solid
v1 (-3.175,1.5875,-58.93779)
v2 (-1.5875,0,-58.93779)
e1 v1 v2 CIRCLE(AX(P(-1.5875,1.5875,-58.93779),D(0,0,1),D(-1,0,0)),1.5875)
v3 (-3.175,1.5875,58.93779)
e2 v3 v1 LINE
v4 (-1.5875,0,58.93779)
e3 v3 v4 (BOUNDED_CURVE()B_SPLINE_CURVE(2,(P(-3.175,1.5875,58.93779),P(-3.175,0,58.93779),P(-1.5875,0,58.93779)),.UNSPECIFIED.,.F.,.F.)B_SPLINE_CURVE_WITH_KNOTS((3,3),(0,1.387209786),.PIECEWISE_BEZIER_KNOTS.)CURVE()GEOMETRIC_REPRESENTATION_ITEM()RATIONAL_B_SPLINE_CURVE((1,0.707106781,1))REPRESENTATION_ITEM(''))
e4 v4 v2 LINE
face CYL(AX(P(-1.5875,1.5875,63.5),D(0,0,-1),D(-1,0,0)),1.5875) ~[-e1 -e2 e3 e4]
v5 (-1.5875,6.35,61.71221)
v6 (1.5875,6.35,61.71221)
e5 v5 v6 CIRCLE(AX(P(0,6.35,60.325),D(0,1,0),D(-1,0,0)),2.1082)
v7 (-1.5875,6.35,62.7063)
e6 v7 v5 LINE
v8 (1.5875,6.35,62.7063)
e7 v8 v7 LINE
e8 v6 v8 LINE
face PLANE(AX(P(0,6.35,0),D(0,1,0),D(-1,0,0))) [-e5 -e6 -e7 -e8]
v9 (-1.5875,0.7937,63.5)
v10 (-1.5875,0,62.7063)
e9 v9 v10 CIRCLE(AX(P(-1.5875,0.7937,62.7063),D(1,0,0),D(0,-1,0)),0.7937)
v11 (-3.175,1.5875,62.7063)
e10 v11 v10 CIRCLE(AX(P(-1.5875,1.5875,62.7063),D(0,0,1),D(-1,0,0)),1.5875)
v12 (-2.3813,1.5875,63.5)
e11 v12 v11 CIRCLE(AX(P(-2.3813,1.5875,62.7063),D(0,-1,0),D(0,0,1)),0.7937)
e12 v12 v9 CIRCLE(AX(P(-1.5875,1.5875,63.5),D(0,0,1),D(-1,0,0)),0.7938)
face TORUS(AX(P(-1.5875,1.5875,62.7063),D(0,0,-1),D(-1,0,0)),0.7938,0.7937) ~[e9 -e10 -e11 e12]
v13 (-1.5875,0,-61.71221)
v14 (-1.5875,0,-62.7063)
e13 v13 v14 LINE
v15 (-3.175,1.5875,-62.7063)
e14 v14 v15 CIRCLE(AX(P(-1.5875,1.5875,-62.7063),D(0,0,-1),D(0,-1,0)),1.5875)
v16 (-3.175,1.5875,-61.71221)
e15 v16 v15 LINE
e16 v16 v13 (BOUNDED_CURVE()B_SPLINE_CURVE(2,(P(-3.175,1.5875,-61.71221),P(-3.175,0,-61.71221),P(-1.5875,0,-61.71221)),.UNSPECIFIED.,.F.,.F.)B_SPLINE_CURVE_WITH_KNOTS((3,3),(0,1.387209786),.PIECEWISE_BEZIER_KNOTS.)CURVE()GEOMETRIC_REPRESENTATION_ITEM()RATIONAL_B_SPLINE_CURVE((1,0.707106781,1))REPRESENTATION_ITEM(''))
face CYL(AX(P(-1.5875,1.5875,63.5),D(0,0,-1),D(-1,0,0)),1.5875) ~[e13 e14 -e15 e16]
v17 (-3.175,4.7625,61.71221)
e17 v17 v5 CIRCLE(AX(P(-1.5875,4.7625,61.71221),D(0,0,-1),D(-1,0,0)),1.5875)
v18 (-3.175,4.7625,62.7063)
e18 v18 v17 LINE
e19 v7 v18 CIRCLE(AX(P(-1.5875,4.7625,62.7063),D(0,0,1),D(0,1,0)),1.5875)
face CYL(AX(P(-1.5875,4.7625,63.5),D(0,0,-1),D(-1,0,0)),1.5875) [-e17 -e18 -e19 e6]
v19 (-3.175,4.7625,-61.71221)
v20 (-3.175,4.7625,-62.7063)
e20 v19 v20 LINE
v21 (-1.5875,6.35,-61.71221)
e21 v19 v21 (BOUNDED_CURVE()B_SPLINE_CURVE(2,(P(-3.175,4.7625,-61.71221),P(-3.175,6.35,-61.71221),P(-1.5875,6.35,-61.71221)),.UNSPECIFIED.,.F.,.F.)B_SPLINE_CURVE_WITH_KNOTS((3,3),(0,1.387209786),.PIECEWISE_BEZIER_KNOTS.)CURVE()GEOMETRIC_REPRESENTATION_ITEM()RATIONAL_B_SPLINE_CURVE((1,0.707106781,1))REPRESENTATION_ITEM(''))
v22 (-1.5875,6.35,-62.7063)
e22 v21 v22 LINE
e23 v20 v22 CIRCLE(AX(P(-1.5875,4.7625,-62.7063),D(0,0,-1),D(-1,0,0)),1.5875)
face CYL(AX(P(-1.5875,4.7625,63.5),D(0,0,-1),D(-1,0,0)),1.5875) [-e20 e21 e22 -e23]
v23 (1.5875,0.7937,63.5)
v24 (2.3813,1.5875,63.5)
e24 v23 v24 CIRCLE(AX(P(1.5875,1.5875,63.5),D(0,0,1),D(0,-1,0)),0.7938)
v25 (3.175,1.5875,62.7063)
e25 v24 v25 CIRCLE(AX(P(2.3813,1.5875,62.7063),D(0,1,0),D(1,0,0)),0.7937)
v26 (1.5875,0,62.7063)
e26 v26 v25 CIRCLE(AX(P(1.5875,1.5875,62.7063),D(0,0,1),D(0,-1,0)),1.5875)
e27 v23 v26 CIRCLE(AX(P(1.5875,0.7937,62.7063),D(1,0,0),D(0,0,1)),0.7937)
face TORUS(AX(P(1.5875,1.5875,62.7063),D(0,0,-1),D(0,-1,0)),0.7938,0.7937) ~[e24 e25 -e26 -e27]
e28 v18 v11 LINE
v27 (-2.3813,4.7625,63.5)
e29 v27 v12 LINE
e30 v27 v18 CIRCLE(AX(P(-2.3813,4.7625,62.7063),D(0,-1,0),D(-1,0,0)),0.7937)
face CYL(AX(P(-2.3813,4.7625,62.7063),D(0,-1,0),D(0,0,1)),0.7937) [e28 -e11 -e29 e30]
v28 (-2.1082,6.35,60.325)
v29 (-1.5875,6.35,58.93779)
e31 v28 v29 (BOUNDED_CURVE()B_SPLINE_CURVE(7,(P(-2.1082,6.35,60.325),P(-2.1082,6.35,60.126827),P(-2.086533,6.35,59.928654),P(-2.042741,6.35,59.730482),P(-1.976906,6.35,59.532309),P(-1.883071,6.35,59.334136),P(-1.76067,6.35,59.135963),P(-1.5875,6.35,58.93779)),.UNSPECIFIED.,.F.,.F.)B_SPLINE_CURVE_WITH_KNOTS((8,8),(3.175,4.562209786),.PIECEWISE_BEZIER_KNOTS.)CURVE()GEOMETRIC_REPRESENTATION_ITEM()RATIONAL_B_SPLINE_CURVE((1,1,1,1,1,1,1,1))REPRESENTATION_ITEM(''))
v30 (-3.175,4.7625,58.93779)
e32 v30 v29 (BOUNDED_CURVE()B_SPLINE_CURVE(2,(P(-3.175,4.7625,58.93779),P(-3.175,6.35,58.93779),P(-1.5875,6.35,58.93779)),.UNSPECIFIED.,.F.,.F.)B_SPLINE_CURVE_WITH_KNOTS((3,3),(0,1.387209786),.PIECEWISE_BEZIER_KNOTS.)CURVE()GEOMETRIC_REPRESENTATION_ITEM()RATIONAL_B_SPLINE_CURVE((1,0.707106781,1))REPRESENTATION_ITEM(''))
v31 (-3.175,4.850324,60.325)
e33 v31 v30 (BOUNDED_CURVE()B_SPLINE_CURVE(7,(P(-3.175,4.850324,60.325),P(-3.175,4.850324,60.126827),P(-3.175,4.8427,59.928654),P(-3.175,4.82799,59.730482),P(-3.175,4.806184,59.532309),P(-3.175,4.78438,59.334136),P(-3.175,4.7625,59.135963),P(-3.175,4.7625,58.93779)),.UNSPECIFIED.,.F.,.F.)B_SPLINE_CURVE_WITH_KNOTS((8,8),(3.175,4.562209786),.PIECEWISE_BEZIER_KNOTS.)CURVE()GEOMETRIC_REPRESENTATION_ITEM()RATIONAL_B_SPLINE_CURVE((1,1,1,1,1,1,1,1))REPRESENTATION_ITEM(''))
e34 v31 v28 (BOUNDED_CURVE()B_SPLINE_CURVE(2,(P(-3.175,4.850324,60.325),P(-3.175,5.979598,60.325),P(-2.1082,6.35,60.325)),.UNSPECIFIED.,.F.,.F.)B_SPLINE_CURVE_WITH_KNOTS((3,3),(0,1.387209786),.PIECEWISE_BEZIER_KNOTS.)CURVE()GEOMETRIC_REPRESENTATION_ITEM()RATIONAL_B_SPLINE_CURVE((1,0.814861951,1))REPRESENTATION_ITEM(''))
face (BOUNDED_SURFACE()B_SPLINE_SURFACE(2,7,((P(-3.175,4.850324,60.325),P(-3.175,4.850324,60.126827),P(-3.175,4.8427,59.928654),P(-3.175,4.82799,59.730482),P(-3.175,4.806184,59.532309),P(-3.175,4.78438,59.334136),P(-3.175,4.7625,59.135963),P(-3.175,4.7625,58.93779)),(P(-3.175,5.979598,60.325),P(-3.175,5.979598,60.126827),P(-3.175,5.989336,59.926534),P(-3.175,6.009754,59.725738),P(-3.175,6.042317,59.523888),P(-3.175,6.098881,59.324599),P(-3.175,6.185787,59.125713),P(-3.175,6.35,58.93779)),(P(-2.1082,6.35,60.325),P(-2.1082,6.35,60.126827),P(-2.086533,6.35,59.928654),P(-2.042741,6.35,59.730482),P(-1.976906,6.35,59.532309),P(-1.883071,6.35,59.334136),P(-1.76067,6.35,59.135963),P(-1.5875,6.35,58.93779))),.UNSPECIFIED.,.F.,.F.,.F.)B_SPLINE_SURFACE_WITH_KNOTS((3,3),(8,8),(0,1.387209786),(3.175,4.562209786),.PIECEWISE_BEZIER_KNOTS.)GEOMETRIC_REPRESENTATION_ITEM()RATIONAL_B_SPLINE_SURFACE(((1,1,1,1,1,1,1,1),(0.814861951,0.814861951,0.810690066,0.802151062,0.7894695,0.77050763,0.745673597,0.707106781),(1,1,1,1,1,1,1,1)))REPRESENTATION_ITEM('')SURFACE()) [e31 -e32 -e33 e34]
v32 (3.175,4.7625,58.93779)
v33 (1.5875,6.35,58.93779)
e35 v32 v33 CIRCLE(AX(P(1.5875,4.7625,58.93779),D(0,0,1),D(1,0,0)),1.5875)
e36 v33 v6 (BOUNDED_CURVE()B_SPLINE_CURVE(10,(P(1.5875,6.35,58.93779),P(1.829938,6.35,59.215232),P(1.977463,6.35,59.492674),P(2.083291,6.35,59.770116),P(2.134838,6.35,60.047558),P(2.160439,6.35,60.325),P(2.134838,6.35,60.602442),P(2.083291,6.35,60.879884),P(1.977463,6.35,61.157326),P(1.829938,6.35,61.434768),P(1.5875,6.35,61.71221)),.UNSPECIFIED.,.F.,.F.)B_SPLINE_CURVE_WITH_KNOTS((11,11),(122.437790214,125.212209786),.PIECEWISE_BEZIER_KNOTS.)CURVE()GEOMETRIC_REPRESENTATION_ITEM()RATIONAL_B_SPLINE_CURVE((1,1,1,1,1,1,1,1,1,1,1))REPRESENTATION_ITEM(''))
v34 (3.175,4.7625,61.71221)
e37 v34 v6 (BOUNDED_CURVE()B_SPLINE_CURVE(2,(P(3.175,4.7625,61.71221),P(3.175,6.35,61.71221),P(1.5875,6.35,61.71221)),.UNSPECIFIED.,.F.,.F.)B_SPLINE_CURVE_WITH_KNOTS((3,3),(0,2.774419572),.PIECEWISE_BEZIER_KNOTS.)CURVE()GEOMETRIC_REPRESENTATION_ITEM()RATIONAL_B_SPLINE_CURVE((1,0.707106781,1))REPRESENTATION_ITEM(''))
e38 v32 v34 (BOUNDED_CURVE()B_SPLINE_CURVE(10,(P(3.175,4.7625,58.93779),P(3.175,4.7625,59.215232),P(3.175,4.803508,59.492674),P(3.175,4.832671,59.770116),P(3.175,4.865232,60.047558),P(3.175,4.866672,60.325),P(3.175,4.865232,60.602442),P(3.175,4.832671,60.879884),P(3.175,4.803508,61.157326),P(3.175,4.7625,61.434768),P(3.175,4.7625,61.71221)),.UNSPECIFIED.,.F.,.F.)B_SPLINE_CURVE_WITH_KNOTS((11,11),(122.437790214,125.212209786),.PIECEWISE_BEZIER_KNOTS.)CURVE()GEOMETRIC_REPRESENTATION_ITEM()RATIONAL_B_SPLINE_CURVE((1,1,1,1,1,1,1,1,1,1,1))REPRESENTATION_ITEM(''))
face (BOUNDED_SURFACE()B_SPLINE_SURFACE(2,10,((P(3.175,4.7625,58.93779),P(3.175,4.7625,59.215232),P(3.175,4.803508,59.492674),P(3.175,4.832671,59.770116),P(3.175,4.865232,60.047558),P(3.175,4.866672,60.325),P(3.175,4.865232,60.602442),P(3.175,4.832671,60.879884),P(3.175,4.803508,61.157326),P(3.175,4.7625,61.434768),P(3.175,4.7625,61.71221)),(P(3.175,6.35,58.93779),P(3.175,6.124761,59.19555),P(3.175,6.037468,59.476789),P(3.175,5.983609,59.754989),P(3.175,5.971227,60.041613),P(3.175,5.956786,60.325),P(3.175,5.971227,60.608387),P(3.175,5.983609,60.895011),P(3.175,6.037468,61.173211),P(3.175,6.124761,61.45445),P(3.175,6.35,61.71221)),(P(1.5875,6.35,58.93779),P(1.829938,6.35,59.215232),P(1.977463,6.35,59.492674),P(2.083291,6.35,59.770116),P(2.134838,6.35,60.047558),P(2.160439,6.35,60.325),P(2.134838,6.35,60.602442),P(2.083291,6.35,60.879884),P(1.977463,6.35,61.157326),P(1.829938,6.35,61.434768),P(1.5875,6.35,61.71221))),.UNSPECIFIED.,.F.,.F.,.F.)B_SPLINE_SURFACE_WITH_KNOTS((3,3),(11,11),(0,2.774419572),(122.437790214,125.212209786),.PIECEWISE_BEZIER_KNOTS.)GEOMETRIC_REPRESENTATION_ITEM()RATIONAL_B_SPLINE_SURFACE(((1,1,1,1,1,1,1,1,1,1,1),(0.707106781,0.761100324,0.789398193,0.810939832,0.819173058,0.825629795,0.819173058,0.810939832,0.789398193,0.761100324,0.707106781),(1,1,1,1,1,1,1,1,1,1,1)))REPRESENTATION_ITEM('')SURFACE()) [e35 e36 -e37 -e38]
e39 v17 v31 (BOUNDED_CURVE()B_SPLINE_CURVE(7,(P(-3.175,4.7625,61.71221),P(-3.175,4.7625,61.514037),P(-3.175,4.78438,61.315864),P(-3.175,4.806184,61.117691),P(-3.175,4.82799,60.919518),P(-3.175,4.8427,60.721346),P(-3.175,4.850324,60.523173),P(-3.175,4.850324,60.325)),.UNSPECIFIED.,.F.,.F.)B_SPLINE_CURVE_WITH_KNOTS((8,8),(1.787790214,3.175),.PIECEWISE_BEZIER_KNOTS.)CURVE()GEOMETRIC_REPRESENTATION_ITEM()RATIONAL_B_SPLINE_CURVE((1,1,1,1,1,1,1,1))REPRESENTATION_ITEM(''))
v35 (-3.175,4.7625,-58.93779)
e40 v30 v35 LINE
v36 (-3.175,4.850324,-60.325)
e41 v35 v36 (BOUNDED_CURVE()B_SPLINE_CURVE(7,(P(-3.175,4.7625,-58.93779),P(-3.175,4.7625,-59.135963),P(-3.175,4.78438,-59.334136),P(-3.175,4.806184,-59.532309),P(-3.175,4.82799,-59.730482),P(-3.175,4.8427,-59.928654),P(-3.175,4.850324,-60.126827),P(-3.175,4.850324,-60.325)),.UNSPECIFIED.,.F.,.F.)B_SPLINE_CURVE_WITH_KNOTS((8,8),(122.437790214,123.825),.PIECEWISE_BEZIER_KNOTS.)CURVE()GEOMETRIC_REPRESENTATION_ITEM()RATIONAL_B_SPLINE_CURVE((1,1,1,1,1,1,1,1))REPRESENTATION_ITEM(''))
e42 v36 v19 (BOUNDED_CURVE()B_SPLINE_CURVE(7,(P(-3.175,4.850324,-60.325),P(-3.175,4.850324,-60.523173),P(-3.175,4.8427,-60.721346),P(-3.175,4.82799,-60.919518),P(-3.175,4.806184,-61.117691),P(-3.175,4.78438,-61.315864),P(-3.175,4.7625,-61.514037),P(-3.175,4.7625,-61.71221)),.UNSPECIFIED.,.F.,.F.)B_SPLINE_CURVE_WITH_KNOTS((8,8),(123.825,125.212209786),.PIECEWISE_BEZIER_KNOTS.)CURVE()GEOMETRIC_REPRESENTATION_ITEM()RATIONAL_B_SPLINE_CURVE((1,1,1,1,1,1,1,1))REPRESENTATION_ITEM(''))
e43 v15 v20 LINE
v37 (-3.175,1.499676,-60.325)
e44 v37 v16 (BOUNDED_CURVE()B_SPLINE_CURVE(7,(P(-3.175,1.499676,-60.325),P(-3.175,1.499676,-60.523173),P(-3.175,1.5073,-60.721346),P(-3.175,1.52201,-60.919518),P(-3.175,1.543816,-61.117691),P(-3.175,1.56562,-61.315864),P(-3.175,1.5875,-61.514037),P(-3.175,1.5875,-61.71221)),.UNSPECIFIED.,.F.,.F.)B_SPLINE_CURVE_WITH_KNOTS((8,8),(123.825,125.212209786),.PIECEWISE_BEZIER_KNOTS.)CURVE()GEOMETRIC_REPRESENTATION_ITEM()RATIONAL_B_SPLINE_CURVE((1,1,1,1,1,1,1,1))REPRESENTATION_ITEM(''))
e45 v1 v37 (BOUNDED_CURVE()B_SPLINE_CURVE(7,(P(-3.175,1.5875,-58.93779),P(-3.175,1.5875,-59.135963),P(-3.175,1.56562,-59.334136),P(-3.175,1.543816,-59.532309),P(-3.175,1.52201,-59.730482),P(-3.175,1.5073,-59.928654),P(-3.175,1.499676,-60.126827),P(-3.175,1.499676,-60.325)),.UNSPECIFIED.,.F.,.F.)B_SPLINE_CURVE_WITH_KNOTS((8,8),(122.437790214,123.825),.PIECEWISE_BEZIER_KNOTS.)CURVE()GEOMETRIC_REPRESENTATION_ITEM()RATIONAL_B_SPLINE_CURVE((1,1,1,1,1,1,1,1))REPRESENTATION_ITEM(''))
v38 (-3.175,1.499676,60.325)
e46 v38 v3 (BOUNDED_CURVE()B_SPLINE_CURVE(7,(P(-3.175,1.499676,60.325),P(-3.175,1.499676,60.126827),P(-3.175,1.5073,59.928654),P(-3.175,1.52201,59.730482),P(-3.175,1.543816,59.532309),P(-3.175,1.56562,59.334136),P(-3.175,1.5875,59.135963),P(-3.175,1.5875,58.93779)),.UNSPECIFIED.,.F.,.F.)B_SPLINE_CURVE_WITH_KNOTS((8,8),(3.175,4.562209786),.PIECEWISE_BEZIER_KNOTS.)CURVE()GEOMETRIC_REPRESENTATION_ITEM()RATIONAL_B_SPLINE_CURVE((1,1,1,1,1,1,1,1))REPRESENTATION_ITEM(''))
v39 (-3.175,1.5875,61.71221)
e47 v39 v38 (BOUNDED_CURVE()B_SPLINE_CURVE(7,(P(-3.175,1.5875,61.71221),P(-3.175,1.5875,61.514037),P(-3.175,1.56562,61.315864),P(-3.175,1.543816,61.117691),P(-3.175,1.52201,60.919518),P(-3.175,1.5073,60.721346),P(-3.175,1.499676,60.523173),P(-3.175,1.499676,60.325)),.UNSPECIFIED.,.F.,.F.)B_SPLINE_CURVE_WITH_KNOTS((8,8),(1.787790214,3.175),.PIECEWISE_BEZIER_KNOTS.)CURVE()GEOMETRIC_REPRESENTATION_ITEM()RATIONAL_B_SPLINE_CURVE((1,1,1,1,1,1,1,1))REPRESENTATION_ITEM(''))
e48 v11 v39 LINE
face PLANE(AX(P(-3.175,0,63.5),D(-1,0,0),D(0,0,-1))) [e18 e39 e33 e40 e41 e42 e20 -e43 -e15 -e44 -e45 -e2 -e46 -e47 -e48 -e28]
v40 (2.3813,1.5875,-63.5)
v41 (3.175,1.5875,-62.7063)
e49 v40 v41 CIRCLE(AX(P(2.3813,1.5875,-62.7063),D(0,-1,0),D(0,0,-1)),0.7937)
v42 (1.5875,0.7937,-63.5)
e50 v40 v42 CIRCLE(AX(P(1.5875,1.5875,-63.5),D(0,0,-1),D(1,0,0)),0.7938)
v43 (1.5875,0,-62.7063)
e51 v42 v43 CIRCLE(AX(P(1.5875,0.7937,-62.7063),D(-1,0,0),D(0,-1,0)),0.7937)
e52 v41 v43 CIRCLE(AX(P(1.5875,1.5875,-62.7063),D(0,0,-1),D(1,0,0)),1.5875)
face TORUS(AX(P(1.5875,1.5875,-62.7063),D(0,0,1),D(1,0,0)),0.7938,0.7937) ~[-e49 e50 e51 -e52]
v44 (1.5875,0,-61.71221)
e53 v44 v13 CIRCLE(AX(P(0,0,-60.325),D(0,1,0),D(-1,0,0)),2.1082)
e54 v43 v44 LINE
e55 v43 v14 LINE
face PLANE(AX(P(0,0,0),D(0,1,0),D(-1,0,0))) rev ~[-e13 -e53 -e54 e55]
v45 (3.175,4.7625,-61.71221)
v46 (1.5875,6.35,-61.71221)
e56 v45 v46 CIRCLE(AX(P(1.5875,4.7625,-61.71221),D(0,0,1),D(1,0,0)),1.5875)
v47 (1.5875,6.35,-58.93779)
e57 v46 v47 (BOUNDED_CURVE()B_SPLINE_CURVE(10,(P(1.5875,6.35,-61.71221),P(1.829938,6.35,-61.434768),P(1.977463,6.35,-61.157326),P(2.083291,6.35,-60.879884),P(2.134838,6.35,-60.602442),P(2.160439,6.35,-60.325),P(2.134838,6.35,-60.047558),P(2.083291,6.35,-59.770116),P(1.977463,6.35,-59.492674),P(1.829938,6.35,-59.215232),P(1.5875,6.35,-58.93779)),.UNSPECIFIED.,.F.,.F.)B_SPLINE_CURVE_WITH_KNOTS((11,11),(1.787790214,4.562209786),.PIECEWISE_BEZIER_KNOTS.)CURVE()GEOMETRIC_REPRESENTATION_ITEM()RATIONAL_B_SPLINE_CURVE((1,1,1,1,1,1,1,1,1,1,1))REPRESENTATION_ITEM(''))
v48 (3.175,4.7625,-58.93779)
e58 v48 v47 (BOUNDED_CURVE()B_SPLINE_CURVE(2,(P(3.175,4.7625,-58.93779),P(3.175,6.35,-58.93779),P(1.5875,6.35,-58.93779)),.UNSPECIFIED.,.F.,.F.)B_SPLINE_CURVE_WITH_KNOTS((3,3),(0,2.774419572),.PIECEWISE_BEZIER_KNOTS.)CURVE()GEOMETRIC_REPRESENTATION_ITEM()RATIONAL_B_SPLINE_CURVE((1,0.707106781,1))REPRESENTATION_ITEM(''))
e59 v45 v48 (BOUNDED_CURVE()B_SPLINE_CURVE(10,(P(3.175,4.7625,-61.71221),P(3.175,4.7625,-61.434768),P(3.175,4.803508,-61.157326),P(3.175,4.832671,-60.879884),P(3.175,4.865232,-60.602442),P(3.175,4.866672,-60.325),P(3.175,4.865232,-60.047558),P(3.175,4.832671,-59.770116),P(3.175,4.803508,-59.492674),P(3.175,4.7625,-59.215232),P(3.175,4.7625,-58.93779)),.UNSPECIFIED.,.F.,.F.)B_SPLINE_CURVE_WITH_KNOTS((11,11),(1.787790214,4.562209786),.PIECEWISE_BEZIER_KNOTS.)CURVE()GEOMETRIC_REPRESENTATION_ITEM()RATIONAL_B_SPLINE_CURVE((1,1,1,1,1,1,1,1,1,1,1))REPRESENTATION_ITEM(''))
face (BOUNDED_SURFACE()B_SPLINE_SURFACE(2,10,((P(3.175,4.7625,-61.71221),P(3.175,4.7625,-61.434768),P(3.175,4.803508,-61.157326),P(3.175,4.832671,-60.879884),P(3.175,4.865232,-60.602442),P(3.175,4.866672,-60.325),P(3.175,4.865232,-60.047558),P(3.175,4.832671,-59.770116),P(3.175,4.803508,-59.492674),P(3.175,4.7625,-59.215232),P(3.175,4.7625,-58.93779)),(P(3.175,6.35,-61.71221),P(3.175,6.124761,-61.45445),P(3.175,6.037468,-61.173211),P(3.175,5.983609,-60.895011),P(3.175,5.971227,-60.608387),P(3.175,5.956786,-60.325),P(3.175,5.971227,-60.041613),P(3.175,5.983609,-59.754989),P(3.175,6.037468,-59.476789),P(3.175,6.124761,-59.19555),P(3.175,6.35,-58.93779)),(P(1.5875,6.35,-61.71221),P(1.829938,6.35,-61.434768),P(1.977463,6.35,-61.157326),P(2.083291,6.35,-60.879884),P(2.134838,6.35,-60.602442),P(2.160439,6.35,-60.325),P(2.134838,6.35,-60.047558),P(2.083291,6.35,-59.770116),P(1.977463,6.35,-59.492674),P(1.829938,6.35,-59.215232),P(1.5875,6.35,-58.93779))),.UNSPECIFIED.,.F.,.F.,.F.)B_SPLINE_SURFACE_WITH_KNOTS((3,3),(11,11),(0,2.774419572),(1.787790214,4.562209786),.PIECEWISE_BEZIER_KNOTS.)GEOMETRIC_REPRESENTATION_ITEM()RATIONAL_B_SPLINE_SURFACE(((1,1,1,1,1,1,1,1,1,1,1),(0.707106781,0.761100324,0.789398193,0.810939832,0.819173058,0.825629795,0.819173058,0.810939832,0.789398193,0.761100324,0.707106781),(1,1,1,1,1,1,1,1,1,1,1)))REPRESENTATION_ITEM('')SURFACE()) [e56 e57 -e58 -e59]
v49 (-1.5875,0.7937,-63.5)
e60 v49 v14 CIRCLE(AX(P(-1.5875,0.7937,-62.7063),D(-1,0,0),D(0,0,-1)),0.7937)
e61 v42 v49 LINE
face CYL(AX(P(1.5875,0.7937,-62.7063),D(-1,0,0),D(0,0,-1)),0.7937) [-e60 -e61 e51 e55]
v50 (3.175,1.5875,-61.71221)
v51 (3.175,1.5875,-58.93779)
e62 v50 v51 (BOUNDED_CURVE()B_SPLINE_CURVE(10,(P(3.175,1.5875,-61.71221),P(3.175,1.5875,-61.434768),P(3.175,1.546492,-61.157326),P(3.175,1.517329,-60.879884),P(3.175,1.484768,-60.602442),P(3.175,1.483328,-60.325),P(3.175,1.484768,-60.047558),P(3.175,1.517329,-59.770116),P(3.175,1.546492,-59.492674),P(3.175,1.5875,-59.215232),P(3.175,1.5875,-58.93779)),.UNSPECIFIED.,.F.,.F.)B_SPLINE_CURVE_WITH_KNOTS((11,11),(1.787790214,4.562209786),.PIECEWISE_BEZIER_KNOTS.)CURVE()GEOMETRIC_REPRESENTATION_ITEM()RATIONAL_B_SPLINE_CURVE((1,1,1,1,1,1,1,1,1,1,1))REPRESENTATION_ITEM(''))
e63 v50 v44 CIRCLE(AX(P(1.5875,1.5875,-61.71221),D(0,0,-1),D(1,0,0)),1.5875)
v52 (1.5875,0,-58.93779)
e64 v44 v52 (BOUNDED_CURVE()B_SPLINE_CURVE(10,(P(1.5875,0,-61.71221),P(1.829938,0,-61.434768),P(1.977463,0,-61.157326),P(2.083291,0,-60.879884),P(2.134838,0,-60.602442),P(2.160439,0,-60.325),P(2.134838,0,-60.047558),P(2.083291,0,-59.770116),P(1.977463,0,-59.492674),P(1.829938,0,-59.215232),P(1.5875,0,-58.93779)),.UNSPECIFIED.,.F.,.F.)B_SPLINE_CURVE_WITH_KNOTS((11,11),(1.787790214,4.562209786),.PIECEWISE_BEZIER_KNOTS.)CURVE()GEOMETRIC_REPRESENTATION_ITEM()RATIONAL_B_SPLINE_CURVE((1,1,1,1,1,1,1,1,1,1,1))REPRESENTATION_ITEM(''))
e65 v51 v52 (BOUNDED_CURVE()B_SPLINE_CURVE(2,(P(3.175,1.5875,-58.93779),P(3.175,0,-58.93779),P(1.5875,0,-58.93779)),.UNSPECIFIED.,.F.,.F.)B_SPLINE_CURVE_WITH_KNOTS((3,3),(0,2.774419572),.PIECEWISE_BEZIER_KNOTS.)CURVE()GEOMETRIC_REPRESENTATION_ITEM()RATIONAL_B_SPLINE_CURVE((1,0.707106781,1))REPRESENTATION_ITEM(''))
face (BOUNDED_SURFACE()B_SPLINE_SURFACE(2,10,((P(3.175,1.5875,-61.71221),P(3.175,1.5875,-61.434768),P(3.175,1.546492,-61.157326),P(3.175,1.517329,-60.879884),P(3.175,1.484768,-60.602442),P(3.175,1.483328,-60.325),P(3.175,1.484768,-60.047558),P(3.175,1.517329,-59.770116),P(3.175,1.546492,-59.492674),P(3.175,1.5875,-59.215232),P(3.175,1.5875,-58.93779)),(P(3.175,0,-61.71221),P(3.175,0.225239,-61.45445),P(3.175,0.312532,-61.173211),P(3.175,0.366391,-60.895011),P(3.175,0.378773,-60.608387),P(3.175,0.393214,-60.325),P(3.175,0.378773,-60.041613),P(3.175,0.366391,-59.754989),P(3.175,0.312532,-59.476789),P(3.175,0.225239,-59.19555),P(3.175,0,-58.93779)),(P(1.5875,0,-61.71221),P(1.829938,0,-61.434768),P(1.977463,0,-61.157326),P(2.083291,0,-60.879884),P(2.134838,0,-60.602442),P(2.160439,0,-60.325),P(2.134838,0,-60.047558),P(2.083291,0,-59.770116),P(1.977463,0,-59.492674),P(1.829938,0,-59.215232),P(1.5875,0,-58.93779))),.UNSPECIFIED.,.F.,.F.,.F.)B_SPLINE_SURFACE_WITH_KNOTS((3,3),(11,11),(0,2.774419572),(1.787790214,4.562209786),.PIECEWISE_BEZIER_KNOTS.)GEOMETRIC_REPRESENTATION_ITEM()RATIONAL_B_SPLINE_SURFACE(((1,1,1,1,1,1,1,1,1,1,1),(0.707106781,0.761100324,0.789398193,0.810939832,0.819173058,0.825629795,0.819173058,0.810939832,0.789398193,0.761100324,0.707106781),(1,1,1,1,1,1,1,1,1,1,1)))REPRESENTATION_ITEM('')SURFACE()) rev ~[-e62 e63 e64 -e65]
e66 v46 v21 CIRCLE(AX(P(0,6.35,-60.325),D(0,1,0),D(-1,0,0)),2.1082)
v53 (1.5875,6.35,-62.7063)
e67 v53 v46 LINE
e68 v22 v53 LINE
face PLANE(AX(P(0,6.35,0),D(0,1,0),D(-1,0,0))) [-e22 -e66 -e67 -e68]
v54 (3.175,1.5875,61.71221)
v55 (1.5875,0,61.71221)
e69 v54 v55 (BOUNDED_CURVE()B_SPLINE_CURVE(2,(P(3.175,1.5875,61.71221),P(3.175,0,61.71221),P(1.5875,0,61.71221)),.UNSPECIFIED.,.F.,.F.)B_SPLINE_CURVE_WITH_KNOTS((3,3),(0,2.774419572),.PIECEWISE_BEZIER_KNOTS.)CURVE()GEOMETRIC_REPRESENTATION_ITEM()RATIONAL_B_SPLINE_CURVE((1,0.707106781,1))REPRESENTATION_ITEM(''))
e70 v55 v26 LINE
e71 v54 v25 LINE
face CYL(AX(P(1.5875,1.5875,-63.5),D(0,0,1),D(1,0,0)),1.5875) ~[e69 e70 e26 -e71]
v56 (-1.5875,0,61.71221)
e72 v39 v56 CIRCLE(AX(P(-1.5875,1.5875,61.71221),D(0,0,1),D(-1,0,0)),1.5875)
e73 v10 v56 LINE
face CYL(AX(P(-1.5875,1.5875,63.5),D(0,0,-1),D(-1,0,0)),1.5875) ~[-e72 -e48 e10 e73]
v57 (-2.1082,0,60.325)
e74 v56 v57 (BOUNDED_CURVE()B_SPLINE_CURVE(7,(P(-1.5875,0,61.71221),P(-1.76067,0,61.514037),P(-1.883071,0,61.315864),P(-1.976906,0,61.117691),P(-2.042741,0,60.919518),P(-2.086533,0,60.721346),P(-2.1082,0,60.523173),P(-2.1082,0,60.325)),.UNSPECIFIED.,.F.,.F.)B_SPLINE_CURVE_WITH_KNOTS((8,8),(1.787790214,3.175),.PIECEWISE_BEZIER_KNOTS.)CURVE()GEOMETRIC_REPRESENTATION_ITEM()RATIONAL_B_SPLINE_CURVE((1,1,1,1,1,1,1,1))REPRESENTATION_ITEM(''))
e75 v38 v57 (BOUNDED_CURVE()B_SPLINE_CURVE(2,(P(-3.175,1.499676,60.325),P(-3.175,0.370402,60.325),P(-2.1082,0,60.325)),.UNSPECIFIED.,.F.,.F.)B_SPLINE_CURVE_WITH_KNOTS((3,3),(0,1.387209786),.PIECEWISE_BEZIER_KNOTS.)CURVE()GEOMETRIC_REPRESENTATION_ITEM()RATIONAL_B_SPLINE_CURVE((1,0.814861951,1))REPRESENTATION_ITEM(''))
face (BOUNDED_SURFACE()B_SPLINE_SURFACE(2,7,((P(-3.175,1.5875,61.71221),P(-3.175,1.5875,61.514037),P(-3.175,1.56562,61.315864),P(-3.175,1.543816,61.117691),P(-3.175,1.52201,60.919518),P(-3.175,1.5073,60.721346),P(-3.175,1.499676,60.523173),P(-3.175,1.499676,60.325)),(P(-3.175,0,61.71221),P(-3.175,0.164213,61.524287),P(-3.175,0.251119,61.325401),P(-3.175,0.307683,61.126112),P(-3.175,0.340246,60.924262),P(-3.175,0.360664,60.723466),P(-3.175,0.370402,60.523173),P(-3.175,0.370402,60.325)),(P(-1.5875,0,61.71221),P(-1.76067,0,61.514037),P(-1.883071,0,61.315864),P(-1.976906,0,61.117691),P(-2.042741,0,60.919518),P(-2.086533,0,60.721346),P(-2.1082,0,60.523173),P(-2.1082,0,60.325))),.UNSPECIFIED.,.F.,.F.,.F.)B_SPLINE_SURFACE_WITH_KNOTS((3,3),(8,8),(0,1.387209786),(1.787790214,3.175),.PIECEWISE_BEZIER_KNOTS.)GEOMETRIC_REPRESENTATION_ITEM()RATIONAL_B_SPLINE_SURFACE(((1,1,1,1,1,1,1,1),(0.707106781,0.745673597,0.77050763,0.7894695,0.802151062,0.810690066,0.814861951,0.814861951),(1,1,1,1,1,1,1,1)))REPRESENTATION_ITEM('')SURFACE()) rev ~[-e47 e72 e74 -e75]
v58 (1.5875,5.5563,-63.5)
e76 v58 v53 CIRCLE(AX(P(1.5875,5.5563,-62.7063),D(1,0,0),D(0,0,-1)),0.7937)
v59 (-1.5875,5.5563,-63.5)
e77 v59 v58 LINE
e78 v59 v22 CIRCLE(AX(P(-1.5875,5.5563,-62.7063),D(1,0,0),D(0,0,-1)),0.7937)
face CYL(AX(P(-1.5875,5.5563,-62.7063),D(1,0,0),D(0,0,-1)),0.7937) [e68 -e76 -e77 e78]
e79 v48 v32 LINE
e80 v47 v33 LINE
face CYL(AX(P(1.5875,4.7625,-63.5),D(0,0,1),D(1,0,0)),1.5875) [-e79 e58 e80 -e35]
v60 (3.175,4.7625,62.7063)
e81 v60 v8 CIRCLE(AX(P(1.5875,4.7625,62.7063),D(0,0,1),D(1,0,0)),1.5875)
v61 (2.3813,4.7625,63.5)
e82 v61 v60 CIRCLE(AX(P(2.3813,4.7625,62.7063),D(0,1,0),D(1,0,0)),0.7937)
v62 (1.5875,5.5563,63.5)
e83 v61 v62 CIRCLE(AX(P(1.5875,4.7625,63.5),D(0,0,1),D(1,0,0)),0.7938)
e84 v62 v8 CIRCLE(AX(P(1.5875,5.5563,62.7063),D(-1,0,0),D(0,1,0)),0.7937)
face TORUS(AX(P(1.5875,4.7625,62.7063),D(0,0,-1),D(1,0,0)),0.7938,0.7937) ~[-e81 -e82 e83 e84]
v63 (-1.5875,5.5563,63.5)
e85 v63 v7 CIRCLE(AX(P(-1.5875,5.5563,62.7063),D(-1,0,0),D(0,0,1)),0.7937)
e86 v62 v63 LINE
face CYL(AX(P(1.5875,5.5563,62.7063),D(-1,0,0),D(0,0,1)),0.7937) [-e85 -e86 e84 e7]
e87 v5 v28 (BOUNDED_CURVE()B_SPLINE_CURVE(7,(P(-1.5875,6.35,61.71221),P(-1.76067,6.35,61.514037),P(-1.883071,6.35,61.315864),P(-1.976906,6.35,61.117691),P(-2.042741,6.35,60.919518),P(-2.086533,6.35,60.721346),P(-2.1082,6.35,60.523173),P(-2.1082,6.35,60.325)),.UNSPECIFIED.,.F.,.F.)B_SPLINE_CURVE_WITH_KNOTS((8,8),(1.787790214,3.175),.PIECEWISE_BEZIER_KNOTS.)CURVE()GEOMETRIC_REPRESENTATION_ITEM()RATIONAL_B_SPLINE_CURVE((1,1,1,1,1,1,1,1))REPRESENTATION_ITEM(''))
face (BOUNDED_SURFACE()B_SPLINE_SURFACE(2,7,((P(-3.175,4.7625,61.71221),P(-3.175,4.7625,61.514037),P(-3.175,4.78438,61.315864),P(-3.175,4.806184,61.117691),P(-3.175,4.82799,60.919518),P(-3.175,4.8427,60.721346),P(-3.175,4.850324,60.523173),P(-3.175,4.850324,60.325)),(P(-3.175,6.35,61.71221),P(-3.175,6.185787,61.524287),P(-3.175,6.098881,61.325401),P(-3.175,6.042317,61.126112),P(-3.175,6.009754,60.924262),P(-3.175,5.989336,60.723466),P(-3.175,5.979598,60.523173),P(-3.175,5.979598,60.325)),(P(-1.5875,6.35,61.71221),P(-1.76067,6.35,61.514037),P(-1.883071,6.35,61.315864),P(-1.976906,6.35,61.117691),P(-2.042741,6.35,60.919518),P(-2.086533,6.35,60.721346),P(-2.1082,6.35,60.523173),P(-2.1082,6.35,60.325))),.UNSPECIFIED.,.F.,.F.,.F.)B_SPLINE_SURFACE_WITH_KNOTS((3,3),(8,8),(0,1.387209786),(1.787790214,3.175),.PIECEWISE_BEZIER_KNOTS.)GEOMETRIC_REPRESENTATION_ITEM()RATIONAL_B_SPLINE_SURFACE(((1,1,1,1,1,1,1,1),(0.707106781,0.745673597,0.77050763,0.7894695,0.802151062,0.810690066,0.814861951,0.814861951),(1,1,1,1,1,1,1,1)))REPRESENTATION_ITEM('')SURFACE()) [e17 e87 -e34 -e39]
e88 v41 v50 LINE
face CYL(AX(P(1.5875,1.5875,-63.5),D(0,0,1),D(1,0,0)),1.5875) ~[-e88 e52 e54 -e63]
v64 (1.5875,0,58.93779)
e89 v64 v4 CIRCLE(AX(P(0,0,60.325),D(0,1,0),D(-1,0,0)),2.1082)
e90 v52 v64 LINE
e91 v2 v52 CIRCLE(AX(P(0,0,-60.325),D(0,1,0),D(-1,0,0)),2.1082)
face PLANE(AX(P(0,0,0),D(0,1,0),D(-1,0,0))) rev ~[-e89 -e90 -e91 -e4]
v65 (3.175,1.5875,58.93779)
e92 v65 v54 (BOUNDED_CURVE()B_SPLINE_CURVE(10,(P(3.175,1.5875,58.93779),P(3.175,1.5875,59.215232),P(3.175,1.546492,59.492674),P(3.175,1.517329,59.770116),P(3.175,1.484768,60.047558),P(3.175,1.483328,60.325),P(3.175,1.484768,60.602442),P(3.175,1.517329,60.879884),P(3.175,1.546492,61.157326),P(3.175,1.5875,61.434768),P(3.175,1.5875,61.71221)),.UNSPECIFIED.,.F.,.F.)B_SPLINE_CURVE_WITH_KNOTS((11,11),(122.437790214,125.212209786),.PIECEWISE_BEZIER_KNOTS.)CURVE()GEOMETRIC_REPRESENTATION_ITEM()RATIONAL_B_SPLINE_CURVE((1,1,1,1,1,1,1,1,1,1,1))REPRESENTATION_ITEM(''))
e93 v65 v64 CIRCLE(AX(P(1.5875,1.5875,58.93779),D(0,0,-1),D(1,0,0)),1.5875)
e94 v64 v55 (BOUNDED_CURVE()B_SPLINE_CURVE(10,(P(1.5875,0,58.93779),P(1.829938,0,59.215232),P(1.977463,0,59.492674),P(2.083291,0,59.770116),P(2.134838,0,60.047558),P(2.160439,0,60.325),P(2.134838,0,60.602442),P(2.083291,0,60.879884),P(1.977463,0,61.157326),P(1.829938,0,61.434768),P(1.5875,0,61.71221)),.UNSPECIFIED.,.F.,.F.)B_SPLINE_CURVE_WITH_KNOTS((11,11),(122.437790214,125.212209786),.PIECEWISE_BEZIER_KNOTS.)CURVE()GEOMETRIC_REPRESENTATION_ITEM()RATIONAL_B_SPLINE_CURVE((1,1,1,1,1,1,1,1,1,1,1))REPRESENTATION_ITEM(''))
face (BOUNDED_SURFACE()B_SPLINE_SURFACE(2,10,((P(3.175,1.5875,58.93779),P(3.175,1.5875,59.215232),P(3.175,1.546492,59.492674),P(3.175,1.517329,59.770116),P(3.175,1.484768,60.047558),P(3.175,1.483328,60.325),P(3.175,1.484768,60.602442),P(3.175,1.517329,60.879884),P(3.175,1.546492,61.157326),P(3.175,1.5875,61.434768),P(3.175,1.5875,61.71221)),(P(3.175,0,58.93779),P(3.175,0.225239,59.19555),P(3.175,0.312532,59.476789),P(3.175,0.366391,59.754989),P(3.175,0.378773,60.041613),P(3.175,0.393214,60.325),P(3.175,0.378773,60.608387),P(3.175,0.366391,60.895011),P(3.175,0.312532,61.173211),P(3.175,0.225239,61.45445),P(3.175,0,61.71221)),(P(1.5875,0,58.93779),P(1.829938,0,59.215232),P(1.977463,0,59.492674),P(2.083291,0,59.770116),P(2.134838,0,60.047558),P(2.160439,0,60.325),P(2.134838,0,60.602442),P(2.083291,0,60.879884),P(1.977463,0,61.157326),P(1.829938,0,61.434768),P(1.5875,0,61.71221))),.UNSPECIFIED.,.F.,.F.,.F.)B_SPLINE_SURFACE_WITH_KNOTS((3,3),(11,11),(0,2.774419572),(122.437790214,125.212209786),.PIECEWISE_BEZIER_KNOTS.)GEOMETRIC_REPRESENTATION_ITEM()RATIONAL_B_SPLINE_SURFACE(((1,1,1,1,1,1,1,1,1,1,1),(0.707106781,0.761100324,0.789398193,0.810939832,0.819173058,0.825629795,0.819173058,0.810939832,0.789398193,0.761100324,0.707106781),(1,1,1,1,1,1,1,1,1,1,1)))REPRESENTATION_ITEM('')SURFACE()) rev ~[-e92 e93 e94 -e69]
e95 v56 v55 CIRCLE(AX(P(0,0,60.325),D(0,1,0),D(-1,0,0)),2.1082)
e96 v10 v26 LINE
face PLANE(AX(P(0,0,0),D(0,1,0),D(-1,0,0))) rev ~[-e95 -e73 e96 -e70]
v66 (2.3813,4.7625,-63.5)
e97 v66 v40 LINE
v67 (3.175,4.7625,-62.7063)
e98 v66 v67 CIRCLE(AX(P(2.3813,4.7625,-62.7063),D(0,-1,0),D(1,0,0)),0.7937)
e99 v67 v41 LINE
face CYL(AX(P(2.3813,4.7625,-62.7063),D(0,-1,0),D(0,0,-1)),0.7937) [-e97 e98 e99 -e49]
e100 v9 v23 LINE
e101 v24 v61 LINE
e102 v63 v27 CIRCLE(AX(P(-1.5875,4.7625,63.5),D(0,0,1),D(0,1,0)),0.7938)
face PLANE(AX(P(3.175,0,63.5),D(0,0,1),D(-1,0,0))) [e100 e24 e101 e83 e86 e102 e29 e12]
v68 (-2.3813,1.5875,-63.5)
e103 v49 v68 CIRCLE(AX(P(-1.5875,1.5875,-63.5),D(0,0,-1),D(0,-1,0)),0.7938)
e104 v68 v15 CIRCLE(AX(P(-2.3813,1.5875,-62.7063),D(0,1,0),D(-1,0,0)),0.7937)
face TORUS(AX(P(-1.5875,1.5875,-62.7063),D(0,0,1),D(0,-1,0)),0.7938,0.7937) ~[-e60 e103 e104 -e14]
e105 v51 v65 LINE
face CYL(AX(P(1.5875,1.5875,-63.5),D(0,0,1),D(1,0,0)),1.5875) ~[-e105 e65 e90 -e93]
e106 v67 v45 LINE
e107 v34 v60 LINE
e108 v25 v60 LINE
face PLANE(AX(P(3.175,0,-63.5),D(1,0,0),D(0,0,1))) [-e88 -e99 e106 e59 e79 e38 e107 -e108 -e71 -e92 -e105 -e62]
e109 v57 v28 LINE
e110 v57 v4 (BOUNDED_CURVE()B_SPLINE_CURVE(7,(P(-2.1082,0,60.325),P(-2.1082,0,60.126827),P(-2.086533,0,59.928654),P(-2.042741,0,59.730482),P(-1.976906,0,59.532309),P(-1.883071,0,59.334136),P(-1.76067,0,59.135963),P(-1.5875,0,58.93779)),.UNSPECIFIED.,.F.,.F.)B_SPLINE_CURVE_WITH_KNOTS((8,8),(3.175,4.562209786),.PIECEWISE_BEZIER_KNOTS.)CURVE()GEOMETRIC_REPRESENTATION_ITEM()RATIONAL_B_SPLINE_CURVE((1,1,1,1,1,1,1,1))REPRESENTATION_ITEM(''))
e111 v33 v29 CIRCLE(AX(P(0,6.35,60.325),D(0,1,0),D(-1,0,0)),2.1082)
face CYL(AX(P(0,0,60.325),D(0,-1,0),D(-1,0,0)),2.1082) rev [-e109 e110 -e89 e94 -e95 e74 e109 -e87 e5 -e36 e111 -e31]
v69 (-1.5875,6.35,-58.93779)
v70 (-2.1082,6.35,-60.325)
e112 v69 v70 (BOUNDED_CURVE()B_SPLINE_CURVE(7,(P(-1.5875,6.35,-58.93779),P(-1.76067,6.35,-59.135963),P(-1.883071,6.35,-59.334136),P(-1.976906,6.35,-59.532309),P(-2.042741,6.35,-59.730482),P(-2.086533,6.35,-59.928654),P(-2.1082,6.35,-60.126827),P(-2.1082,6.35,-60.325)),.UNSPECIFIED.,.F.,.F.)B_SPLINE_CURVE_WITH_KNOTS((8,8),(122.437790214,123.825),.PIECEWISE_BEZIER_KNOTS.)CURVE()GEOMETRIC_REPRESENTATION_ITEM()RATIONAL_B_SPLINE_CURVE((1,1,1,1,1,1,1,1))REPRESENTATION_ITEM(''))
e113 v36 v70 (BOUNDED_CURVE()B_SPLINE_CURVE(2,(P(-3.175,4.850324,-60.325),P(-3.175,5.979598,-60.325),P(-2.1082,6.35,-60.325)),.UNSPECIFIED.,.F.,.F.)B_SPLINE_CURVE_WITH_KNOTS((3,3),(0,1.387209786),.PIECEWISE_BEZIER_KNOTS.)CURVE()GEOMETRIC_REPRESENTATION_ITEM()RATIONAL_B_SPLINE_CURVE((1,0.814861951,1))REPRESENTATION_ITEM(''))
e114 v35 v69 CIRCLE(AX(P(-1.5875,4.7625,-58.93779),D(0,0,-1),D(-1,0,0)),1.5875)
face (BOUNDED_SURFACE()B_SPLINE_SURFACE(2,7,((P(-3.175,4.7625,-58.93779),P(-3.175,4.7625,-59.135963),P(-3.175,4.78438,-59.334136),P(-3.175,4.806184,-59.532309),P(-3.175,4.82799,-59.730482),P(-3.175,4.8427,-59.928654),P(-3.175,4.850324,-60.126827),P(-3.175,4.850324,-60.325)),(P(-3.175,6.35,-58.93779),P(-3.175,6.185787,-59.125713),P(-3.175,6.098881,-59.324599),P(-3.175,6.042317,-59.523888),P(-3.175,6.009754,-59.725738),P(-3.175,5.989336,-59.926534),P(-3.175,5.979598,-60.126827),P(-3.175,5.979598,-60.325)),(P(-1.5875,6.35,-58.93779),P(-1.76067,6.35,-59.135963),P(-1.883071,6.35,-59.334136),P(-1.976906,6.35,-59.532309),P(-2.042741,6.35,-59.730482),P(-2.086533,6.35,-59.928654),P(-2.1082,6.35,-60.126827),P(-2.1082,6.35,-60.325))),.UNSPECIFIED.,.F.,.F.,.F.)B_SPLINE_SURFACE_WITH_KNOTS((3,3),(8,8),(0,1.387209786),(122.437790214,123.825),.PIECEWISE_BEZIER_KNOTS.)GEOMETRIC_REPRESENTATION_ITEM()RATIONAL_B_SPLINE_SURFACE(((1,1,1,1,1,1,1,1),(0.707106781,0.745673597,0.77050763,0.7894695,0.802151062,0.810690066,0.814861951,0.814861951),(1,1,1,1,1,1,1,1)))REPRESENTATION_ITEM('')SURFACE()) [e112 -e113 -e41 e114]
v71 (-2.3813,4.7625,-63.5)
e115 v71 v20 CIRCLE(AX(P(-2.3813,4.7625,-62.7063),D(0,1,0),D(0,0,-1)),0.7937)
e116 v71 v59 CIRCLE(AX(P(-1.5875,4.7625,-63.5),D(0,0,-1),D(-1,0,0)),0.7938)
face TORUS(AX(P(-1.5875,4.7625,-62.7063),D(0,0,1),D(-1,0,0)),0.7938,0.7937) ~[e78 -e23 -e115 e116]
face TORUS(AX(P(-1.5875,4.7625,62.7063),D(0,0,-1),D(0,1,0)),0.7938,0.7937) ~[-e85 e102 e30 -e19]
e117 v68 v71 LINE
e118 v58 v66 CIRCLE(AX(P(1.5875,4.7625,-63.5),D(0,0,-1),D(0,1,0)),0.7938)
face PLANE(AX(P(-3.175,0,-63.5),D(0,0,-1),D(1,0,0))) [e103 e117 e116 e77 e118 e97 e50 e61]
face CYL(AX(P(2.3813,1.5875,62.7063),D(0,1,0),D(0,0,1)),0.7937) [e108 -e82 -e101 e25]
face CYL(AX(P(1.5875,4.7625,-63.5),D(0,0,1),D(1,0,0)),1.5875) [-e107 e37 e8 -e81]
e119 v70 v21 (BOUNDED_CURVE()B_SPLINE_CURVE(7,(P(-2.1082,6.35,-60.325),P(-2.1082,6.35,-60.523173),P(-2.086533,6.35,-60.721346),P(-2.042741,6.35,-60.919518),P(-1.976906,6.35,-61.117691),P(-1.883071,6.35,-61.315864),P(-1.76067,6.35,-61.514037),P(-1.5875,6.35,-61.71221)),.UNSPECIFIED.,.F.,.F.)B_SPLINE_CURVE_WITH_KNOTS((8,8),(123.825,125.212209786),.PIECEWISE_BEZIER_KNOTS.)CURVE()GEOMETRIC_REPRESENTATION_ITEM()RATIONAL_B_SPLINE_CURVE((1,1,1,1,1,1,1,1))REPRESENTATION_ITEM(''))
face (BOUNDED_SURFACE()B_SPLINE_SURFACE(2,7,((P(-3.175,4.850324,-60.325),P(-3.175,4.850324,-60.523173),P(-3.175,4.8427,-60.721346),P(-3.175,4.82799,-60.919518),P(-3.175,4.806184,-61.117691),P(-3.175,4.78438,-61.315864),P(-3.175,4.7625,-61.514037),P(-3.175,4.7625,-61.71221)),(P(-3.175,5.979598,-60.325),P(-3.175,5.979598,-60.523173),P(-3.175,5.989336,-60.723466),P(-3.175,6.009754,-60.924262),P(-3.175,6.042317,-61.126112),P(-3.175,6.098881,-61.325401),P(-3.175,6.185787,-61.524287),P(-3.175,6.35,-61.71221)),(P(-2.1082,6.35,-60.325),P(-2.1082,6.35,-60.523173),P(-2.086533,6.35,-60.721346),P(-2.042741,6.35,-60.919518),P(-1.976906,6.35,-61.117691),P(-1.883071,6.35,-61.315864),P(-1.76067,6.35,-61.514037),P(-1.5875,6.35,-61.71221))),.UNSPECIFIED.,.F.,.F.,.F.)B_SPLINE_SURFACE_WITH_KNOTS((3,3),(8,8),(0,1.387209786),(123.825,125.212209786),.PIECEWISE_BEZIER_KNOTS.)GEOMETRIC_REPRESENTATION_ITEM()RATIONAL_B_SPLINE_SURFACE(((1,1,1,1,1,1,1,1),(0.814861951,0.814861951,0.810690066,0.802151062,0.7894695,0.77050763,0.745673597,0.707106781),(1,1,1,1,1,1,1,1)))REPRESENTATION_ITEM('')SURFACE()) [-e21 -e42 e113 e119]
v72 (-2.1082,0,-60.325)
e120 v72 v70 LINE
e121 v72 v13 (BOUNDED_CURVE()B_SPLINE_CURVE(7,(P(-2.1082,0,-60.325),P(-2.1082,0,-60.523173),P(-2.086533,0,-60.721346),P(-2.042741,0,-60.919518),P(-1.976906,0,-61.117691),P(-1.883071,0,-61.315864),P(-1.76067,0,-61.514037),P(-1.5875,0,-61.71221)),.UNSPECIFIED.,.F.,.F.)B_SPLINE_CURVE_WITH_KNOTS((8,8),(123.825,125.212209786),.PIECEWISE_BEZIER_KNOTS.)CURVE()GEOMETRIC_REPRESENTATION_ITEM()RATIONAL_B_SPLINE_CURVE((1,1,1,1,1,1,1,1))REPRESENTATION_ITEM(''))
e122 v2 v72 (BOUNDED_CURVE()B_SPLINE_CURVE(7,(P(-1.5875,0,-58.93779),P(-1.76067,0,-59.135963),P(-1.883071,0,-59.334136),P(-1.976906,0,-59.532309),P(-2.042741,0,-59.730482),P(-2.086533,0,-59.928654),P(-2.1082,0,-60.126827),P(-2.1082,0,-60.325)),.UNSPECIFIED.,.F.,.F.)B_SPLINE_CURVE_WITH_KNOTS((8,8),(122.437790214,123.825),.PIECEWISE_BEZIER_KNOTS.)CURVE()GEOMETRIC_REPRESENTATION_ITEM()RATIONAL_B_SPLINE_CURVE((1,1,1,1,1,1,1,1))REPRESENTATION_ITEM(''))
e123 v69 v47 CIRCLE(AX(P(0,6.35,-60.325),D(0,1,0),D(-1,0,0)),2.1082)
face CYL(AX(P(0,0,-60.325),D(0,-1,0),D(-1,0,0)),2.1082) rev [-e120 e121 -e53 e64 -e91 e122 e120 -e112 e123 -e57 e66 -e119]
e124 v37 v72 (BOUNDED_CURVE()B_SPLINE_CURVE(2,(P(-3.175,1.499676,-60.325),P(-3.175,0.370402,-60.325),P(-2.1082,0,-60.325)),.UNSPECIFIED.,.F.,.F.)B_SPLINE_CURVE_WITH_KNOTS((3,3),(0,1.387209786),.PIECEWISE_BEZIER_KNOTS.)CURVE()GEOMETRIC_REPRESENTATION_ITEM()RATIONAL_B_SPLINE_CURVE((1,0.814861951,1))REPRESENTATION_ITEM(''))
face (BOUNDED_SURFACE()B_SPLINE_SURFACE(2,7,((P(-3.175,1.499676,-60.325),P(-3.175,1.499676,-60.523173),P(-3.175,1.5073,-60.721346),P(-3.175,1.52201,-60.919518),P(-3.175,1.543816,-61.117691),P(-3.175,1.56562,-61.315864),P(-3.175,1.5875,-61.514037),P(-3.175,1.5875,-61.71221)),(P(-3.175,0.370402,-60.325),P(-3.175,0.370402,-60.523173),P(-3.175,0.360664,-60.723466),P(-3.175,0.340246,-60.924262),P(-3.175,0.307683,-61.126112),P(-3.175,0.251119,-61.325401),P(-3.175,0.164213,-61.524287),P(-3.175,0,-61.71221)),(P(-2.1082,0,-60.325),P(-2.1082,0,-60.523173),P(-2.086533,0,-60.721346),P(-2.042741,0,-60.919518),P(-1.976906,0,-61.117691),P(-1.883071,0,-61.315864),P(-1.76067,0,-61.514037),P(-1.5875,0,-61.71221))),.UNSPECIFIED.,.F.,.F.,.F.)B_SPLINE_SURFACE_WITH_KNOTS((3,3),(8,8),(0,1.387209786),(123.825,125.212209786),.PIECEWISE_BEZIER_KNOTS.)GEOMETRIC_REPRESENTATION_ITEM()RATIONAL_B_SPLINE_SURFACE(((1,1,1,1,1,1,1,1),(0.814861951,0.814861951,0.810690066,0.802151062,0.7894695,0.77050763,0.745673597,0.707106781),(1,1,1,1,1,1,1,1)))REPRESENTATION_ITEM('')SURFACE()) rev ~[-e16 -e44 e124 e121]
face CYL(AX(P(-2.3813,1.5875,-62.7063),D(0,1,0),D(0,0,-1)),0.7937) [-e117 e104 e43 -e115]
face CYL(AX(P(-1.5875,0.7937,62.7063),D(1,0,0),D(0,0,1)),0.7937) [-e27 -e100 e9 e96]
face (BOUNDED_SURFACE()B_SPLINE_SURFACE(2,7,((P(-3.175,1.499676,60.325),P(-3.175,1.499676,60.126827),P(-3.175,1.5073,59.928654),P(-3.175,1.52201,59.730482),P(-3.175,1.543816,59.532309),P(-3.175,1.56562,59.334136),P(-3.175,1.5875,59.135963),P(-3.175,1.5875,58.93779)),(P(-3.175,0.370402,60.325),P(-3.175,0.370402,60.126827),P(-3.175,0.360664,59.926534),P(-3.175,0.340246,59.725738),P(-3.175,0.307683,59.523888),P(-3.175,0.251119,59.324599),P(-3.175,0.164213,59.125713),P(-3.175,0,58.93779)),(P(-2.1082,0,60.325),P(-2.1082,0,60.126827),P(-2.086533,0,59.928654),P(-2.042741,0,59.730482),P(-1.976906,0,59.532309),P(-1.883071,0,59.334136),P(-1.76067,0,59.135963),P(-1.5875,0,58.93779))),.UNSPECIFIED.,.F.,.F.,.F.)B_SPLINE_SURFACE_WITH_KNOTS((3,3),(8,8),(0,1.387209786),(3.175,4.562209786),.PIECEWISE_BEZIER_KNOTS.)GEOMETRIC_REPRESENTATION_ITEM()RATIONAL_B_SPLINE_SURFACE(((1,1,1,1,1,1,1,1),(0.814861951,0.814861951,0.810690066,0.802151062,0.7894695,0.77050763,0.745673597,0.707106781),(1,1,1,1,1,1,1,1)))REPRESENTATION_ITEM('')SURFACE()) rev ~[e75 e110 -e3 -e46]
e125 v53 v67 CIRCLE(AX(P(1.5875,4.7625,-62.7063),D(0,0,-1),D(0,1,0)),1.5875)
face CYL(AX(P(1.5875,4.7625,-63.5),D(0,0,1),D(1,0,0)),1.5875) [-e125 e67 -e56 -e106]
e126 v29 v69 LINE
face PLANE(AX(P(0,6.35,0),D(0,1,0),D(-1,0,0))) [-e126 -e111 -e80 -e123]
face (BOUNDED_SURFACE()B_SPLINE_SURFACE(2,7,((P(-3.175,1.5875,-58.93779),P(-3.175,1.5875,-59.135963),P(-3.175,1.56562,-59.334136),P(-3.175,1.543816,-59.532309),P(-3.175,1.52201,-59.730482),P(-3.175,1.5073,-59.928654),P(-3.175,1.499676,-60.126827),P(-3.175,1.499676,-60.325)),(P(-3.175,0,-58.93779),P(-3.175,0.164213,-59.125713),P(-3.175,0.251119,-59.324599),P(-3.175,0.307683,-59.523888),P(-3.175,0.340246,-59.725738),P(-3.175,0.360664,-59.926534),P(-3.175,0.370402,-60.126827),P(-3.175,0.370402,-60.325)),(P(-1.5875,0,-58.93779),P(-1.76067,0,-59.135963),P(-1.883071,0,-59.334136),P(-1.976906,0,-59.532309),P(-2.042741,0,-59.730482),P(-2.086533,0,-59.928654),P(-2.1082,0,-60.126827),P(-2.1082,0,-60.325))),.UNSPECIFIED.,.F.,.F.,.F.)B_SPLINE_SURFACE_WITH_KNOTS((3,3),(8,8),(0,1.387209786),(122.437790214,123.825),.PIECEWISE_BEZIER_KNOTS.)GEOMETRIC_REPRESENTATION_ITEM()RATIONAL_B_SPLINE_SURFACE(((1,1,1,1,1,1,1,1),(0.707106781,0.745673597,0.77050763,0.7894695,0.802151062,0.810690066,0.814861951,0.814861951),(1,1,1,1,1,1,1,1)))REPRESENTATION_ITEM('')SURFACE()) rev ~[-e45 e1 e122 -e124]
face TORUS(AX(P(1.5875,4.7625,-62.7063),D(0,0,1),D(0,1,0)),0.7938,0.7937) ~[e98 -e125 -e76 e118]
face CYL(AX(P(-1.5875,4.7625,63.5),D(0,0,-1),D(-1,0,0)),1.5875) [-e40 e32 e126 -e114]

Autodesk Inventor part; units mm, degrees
ref_plane "YZ Plane" through (0, 0, 0) normal (1, 0, 0) x (0, 1, 0)
ref_plane "XZ Plane" through (0, 0, 0) normal (0, 1, 0) x (-1, 0, 0)
ref_plane "XY Plane" through (0, 0, 0) normal (0, 0, 1) x (1, 0, 0)
sketch "Sketch1" plane through (0, 0, 0) normal (0, 1, 0) x (-1, 0, 0)
  line L0 (3.175, -63.5) -> (-3.175, -63.5)
  line L1 (-3.175, -63.5) -> (-3.175, 63.5)
  line L2 (-3.175, 63.5) -> (3.175, 63.5)
  line L3 (3.175, 63.5) -> (3.175, -63.5)
  line L4 (3.175, -63.5) -> (-3.175, 63.5) construction
  line L5 (-3.175, -63.5) -> (3.175, 63.5) construction
  circle A0 centre (0, 60.325) radius 2.1082
  circle A1 centre (0, -60.325) radius 2.1082
  point P0 (0, 0)
  dimension "d0" = 6.35
  dimension "d1" = 127
  dimension "d2" = 4.2164
  dimension "d3" = 4.2164
  dimension "d4" = 3.175
  dimension "d5" = 3.175
  dimension "d6" = 3.175
  dimension "d7" = 3.175
extrude "Extrusion1" add sketch "Sketch1" along normal blind 6.35
fillet "Fillet1" radius 1.5875 4 edges at (3.175, 0, 0) (-3.175, 0, 0) (3.175, 6.35, 0) (-3.175, 6.35, 0)
fillet "Fillet2" radius 0.7937 16 edges at (0, 6.35, -63.5) (-2.71, 5.885, -63.5) (-3.175, 3.175, -63.5) (-2.71, 0.465, -63.5) (0, 0, -63.5) (2.71, 0.465, -63.5) (3.175, 3.175, -63.5) (2.71, 5.885, -63.5) (2.71, 5.885, 63.5) (0, 6.35, 63.5) (-2.71, 5.885, 63.5) (-3.175, 3.175, 63.5) (-2.71, 0.465, 63.5) (0, 0, 63.5) (2.71, 0.465, 63.5) (3.175, 3.175, 63.5)
properties part number "cata Beam" material "Stainless Steel"
